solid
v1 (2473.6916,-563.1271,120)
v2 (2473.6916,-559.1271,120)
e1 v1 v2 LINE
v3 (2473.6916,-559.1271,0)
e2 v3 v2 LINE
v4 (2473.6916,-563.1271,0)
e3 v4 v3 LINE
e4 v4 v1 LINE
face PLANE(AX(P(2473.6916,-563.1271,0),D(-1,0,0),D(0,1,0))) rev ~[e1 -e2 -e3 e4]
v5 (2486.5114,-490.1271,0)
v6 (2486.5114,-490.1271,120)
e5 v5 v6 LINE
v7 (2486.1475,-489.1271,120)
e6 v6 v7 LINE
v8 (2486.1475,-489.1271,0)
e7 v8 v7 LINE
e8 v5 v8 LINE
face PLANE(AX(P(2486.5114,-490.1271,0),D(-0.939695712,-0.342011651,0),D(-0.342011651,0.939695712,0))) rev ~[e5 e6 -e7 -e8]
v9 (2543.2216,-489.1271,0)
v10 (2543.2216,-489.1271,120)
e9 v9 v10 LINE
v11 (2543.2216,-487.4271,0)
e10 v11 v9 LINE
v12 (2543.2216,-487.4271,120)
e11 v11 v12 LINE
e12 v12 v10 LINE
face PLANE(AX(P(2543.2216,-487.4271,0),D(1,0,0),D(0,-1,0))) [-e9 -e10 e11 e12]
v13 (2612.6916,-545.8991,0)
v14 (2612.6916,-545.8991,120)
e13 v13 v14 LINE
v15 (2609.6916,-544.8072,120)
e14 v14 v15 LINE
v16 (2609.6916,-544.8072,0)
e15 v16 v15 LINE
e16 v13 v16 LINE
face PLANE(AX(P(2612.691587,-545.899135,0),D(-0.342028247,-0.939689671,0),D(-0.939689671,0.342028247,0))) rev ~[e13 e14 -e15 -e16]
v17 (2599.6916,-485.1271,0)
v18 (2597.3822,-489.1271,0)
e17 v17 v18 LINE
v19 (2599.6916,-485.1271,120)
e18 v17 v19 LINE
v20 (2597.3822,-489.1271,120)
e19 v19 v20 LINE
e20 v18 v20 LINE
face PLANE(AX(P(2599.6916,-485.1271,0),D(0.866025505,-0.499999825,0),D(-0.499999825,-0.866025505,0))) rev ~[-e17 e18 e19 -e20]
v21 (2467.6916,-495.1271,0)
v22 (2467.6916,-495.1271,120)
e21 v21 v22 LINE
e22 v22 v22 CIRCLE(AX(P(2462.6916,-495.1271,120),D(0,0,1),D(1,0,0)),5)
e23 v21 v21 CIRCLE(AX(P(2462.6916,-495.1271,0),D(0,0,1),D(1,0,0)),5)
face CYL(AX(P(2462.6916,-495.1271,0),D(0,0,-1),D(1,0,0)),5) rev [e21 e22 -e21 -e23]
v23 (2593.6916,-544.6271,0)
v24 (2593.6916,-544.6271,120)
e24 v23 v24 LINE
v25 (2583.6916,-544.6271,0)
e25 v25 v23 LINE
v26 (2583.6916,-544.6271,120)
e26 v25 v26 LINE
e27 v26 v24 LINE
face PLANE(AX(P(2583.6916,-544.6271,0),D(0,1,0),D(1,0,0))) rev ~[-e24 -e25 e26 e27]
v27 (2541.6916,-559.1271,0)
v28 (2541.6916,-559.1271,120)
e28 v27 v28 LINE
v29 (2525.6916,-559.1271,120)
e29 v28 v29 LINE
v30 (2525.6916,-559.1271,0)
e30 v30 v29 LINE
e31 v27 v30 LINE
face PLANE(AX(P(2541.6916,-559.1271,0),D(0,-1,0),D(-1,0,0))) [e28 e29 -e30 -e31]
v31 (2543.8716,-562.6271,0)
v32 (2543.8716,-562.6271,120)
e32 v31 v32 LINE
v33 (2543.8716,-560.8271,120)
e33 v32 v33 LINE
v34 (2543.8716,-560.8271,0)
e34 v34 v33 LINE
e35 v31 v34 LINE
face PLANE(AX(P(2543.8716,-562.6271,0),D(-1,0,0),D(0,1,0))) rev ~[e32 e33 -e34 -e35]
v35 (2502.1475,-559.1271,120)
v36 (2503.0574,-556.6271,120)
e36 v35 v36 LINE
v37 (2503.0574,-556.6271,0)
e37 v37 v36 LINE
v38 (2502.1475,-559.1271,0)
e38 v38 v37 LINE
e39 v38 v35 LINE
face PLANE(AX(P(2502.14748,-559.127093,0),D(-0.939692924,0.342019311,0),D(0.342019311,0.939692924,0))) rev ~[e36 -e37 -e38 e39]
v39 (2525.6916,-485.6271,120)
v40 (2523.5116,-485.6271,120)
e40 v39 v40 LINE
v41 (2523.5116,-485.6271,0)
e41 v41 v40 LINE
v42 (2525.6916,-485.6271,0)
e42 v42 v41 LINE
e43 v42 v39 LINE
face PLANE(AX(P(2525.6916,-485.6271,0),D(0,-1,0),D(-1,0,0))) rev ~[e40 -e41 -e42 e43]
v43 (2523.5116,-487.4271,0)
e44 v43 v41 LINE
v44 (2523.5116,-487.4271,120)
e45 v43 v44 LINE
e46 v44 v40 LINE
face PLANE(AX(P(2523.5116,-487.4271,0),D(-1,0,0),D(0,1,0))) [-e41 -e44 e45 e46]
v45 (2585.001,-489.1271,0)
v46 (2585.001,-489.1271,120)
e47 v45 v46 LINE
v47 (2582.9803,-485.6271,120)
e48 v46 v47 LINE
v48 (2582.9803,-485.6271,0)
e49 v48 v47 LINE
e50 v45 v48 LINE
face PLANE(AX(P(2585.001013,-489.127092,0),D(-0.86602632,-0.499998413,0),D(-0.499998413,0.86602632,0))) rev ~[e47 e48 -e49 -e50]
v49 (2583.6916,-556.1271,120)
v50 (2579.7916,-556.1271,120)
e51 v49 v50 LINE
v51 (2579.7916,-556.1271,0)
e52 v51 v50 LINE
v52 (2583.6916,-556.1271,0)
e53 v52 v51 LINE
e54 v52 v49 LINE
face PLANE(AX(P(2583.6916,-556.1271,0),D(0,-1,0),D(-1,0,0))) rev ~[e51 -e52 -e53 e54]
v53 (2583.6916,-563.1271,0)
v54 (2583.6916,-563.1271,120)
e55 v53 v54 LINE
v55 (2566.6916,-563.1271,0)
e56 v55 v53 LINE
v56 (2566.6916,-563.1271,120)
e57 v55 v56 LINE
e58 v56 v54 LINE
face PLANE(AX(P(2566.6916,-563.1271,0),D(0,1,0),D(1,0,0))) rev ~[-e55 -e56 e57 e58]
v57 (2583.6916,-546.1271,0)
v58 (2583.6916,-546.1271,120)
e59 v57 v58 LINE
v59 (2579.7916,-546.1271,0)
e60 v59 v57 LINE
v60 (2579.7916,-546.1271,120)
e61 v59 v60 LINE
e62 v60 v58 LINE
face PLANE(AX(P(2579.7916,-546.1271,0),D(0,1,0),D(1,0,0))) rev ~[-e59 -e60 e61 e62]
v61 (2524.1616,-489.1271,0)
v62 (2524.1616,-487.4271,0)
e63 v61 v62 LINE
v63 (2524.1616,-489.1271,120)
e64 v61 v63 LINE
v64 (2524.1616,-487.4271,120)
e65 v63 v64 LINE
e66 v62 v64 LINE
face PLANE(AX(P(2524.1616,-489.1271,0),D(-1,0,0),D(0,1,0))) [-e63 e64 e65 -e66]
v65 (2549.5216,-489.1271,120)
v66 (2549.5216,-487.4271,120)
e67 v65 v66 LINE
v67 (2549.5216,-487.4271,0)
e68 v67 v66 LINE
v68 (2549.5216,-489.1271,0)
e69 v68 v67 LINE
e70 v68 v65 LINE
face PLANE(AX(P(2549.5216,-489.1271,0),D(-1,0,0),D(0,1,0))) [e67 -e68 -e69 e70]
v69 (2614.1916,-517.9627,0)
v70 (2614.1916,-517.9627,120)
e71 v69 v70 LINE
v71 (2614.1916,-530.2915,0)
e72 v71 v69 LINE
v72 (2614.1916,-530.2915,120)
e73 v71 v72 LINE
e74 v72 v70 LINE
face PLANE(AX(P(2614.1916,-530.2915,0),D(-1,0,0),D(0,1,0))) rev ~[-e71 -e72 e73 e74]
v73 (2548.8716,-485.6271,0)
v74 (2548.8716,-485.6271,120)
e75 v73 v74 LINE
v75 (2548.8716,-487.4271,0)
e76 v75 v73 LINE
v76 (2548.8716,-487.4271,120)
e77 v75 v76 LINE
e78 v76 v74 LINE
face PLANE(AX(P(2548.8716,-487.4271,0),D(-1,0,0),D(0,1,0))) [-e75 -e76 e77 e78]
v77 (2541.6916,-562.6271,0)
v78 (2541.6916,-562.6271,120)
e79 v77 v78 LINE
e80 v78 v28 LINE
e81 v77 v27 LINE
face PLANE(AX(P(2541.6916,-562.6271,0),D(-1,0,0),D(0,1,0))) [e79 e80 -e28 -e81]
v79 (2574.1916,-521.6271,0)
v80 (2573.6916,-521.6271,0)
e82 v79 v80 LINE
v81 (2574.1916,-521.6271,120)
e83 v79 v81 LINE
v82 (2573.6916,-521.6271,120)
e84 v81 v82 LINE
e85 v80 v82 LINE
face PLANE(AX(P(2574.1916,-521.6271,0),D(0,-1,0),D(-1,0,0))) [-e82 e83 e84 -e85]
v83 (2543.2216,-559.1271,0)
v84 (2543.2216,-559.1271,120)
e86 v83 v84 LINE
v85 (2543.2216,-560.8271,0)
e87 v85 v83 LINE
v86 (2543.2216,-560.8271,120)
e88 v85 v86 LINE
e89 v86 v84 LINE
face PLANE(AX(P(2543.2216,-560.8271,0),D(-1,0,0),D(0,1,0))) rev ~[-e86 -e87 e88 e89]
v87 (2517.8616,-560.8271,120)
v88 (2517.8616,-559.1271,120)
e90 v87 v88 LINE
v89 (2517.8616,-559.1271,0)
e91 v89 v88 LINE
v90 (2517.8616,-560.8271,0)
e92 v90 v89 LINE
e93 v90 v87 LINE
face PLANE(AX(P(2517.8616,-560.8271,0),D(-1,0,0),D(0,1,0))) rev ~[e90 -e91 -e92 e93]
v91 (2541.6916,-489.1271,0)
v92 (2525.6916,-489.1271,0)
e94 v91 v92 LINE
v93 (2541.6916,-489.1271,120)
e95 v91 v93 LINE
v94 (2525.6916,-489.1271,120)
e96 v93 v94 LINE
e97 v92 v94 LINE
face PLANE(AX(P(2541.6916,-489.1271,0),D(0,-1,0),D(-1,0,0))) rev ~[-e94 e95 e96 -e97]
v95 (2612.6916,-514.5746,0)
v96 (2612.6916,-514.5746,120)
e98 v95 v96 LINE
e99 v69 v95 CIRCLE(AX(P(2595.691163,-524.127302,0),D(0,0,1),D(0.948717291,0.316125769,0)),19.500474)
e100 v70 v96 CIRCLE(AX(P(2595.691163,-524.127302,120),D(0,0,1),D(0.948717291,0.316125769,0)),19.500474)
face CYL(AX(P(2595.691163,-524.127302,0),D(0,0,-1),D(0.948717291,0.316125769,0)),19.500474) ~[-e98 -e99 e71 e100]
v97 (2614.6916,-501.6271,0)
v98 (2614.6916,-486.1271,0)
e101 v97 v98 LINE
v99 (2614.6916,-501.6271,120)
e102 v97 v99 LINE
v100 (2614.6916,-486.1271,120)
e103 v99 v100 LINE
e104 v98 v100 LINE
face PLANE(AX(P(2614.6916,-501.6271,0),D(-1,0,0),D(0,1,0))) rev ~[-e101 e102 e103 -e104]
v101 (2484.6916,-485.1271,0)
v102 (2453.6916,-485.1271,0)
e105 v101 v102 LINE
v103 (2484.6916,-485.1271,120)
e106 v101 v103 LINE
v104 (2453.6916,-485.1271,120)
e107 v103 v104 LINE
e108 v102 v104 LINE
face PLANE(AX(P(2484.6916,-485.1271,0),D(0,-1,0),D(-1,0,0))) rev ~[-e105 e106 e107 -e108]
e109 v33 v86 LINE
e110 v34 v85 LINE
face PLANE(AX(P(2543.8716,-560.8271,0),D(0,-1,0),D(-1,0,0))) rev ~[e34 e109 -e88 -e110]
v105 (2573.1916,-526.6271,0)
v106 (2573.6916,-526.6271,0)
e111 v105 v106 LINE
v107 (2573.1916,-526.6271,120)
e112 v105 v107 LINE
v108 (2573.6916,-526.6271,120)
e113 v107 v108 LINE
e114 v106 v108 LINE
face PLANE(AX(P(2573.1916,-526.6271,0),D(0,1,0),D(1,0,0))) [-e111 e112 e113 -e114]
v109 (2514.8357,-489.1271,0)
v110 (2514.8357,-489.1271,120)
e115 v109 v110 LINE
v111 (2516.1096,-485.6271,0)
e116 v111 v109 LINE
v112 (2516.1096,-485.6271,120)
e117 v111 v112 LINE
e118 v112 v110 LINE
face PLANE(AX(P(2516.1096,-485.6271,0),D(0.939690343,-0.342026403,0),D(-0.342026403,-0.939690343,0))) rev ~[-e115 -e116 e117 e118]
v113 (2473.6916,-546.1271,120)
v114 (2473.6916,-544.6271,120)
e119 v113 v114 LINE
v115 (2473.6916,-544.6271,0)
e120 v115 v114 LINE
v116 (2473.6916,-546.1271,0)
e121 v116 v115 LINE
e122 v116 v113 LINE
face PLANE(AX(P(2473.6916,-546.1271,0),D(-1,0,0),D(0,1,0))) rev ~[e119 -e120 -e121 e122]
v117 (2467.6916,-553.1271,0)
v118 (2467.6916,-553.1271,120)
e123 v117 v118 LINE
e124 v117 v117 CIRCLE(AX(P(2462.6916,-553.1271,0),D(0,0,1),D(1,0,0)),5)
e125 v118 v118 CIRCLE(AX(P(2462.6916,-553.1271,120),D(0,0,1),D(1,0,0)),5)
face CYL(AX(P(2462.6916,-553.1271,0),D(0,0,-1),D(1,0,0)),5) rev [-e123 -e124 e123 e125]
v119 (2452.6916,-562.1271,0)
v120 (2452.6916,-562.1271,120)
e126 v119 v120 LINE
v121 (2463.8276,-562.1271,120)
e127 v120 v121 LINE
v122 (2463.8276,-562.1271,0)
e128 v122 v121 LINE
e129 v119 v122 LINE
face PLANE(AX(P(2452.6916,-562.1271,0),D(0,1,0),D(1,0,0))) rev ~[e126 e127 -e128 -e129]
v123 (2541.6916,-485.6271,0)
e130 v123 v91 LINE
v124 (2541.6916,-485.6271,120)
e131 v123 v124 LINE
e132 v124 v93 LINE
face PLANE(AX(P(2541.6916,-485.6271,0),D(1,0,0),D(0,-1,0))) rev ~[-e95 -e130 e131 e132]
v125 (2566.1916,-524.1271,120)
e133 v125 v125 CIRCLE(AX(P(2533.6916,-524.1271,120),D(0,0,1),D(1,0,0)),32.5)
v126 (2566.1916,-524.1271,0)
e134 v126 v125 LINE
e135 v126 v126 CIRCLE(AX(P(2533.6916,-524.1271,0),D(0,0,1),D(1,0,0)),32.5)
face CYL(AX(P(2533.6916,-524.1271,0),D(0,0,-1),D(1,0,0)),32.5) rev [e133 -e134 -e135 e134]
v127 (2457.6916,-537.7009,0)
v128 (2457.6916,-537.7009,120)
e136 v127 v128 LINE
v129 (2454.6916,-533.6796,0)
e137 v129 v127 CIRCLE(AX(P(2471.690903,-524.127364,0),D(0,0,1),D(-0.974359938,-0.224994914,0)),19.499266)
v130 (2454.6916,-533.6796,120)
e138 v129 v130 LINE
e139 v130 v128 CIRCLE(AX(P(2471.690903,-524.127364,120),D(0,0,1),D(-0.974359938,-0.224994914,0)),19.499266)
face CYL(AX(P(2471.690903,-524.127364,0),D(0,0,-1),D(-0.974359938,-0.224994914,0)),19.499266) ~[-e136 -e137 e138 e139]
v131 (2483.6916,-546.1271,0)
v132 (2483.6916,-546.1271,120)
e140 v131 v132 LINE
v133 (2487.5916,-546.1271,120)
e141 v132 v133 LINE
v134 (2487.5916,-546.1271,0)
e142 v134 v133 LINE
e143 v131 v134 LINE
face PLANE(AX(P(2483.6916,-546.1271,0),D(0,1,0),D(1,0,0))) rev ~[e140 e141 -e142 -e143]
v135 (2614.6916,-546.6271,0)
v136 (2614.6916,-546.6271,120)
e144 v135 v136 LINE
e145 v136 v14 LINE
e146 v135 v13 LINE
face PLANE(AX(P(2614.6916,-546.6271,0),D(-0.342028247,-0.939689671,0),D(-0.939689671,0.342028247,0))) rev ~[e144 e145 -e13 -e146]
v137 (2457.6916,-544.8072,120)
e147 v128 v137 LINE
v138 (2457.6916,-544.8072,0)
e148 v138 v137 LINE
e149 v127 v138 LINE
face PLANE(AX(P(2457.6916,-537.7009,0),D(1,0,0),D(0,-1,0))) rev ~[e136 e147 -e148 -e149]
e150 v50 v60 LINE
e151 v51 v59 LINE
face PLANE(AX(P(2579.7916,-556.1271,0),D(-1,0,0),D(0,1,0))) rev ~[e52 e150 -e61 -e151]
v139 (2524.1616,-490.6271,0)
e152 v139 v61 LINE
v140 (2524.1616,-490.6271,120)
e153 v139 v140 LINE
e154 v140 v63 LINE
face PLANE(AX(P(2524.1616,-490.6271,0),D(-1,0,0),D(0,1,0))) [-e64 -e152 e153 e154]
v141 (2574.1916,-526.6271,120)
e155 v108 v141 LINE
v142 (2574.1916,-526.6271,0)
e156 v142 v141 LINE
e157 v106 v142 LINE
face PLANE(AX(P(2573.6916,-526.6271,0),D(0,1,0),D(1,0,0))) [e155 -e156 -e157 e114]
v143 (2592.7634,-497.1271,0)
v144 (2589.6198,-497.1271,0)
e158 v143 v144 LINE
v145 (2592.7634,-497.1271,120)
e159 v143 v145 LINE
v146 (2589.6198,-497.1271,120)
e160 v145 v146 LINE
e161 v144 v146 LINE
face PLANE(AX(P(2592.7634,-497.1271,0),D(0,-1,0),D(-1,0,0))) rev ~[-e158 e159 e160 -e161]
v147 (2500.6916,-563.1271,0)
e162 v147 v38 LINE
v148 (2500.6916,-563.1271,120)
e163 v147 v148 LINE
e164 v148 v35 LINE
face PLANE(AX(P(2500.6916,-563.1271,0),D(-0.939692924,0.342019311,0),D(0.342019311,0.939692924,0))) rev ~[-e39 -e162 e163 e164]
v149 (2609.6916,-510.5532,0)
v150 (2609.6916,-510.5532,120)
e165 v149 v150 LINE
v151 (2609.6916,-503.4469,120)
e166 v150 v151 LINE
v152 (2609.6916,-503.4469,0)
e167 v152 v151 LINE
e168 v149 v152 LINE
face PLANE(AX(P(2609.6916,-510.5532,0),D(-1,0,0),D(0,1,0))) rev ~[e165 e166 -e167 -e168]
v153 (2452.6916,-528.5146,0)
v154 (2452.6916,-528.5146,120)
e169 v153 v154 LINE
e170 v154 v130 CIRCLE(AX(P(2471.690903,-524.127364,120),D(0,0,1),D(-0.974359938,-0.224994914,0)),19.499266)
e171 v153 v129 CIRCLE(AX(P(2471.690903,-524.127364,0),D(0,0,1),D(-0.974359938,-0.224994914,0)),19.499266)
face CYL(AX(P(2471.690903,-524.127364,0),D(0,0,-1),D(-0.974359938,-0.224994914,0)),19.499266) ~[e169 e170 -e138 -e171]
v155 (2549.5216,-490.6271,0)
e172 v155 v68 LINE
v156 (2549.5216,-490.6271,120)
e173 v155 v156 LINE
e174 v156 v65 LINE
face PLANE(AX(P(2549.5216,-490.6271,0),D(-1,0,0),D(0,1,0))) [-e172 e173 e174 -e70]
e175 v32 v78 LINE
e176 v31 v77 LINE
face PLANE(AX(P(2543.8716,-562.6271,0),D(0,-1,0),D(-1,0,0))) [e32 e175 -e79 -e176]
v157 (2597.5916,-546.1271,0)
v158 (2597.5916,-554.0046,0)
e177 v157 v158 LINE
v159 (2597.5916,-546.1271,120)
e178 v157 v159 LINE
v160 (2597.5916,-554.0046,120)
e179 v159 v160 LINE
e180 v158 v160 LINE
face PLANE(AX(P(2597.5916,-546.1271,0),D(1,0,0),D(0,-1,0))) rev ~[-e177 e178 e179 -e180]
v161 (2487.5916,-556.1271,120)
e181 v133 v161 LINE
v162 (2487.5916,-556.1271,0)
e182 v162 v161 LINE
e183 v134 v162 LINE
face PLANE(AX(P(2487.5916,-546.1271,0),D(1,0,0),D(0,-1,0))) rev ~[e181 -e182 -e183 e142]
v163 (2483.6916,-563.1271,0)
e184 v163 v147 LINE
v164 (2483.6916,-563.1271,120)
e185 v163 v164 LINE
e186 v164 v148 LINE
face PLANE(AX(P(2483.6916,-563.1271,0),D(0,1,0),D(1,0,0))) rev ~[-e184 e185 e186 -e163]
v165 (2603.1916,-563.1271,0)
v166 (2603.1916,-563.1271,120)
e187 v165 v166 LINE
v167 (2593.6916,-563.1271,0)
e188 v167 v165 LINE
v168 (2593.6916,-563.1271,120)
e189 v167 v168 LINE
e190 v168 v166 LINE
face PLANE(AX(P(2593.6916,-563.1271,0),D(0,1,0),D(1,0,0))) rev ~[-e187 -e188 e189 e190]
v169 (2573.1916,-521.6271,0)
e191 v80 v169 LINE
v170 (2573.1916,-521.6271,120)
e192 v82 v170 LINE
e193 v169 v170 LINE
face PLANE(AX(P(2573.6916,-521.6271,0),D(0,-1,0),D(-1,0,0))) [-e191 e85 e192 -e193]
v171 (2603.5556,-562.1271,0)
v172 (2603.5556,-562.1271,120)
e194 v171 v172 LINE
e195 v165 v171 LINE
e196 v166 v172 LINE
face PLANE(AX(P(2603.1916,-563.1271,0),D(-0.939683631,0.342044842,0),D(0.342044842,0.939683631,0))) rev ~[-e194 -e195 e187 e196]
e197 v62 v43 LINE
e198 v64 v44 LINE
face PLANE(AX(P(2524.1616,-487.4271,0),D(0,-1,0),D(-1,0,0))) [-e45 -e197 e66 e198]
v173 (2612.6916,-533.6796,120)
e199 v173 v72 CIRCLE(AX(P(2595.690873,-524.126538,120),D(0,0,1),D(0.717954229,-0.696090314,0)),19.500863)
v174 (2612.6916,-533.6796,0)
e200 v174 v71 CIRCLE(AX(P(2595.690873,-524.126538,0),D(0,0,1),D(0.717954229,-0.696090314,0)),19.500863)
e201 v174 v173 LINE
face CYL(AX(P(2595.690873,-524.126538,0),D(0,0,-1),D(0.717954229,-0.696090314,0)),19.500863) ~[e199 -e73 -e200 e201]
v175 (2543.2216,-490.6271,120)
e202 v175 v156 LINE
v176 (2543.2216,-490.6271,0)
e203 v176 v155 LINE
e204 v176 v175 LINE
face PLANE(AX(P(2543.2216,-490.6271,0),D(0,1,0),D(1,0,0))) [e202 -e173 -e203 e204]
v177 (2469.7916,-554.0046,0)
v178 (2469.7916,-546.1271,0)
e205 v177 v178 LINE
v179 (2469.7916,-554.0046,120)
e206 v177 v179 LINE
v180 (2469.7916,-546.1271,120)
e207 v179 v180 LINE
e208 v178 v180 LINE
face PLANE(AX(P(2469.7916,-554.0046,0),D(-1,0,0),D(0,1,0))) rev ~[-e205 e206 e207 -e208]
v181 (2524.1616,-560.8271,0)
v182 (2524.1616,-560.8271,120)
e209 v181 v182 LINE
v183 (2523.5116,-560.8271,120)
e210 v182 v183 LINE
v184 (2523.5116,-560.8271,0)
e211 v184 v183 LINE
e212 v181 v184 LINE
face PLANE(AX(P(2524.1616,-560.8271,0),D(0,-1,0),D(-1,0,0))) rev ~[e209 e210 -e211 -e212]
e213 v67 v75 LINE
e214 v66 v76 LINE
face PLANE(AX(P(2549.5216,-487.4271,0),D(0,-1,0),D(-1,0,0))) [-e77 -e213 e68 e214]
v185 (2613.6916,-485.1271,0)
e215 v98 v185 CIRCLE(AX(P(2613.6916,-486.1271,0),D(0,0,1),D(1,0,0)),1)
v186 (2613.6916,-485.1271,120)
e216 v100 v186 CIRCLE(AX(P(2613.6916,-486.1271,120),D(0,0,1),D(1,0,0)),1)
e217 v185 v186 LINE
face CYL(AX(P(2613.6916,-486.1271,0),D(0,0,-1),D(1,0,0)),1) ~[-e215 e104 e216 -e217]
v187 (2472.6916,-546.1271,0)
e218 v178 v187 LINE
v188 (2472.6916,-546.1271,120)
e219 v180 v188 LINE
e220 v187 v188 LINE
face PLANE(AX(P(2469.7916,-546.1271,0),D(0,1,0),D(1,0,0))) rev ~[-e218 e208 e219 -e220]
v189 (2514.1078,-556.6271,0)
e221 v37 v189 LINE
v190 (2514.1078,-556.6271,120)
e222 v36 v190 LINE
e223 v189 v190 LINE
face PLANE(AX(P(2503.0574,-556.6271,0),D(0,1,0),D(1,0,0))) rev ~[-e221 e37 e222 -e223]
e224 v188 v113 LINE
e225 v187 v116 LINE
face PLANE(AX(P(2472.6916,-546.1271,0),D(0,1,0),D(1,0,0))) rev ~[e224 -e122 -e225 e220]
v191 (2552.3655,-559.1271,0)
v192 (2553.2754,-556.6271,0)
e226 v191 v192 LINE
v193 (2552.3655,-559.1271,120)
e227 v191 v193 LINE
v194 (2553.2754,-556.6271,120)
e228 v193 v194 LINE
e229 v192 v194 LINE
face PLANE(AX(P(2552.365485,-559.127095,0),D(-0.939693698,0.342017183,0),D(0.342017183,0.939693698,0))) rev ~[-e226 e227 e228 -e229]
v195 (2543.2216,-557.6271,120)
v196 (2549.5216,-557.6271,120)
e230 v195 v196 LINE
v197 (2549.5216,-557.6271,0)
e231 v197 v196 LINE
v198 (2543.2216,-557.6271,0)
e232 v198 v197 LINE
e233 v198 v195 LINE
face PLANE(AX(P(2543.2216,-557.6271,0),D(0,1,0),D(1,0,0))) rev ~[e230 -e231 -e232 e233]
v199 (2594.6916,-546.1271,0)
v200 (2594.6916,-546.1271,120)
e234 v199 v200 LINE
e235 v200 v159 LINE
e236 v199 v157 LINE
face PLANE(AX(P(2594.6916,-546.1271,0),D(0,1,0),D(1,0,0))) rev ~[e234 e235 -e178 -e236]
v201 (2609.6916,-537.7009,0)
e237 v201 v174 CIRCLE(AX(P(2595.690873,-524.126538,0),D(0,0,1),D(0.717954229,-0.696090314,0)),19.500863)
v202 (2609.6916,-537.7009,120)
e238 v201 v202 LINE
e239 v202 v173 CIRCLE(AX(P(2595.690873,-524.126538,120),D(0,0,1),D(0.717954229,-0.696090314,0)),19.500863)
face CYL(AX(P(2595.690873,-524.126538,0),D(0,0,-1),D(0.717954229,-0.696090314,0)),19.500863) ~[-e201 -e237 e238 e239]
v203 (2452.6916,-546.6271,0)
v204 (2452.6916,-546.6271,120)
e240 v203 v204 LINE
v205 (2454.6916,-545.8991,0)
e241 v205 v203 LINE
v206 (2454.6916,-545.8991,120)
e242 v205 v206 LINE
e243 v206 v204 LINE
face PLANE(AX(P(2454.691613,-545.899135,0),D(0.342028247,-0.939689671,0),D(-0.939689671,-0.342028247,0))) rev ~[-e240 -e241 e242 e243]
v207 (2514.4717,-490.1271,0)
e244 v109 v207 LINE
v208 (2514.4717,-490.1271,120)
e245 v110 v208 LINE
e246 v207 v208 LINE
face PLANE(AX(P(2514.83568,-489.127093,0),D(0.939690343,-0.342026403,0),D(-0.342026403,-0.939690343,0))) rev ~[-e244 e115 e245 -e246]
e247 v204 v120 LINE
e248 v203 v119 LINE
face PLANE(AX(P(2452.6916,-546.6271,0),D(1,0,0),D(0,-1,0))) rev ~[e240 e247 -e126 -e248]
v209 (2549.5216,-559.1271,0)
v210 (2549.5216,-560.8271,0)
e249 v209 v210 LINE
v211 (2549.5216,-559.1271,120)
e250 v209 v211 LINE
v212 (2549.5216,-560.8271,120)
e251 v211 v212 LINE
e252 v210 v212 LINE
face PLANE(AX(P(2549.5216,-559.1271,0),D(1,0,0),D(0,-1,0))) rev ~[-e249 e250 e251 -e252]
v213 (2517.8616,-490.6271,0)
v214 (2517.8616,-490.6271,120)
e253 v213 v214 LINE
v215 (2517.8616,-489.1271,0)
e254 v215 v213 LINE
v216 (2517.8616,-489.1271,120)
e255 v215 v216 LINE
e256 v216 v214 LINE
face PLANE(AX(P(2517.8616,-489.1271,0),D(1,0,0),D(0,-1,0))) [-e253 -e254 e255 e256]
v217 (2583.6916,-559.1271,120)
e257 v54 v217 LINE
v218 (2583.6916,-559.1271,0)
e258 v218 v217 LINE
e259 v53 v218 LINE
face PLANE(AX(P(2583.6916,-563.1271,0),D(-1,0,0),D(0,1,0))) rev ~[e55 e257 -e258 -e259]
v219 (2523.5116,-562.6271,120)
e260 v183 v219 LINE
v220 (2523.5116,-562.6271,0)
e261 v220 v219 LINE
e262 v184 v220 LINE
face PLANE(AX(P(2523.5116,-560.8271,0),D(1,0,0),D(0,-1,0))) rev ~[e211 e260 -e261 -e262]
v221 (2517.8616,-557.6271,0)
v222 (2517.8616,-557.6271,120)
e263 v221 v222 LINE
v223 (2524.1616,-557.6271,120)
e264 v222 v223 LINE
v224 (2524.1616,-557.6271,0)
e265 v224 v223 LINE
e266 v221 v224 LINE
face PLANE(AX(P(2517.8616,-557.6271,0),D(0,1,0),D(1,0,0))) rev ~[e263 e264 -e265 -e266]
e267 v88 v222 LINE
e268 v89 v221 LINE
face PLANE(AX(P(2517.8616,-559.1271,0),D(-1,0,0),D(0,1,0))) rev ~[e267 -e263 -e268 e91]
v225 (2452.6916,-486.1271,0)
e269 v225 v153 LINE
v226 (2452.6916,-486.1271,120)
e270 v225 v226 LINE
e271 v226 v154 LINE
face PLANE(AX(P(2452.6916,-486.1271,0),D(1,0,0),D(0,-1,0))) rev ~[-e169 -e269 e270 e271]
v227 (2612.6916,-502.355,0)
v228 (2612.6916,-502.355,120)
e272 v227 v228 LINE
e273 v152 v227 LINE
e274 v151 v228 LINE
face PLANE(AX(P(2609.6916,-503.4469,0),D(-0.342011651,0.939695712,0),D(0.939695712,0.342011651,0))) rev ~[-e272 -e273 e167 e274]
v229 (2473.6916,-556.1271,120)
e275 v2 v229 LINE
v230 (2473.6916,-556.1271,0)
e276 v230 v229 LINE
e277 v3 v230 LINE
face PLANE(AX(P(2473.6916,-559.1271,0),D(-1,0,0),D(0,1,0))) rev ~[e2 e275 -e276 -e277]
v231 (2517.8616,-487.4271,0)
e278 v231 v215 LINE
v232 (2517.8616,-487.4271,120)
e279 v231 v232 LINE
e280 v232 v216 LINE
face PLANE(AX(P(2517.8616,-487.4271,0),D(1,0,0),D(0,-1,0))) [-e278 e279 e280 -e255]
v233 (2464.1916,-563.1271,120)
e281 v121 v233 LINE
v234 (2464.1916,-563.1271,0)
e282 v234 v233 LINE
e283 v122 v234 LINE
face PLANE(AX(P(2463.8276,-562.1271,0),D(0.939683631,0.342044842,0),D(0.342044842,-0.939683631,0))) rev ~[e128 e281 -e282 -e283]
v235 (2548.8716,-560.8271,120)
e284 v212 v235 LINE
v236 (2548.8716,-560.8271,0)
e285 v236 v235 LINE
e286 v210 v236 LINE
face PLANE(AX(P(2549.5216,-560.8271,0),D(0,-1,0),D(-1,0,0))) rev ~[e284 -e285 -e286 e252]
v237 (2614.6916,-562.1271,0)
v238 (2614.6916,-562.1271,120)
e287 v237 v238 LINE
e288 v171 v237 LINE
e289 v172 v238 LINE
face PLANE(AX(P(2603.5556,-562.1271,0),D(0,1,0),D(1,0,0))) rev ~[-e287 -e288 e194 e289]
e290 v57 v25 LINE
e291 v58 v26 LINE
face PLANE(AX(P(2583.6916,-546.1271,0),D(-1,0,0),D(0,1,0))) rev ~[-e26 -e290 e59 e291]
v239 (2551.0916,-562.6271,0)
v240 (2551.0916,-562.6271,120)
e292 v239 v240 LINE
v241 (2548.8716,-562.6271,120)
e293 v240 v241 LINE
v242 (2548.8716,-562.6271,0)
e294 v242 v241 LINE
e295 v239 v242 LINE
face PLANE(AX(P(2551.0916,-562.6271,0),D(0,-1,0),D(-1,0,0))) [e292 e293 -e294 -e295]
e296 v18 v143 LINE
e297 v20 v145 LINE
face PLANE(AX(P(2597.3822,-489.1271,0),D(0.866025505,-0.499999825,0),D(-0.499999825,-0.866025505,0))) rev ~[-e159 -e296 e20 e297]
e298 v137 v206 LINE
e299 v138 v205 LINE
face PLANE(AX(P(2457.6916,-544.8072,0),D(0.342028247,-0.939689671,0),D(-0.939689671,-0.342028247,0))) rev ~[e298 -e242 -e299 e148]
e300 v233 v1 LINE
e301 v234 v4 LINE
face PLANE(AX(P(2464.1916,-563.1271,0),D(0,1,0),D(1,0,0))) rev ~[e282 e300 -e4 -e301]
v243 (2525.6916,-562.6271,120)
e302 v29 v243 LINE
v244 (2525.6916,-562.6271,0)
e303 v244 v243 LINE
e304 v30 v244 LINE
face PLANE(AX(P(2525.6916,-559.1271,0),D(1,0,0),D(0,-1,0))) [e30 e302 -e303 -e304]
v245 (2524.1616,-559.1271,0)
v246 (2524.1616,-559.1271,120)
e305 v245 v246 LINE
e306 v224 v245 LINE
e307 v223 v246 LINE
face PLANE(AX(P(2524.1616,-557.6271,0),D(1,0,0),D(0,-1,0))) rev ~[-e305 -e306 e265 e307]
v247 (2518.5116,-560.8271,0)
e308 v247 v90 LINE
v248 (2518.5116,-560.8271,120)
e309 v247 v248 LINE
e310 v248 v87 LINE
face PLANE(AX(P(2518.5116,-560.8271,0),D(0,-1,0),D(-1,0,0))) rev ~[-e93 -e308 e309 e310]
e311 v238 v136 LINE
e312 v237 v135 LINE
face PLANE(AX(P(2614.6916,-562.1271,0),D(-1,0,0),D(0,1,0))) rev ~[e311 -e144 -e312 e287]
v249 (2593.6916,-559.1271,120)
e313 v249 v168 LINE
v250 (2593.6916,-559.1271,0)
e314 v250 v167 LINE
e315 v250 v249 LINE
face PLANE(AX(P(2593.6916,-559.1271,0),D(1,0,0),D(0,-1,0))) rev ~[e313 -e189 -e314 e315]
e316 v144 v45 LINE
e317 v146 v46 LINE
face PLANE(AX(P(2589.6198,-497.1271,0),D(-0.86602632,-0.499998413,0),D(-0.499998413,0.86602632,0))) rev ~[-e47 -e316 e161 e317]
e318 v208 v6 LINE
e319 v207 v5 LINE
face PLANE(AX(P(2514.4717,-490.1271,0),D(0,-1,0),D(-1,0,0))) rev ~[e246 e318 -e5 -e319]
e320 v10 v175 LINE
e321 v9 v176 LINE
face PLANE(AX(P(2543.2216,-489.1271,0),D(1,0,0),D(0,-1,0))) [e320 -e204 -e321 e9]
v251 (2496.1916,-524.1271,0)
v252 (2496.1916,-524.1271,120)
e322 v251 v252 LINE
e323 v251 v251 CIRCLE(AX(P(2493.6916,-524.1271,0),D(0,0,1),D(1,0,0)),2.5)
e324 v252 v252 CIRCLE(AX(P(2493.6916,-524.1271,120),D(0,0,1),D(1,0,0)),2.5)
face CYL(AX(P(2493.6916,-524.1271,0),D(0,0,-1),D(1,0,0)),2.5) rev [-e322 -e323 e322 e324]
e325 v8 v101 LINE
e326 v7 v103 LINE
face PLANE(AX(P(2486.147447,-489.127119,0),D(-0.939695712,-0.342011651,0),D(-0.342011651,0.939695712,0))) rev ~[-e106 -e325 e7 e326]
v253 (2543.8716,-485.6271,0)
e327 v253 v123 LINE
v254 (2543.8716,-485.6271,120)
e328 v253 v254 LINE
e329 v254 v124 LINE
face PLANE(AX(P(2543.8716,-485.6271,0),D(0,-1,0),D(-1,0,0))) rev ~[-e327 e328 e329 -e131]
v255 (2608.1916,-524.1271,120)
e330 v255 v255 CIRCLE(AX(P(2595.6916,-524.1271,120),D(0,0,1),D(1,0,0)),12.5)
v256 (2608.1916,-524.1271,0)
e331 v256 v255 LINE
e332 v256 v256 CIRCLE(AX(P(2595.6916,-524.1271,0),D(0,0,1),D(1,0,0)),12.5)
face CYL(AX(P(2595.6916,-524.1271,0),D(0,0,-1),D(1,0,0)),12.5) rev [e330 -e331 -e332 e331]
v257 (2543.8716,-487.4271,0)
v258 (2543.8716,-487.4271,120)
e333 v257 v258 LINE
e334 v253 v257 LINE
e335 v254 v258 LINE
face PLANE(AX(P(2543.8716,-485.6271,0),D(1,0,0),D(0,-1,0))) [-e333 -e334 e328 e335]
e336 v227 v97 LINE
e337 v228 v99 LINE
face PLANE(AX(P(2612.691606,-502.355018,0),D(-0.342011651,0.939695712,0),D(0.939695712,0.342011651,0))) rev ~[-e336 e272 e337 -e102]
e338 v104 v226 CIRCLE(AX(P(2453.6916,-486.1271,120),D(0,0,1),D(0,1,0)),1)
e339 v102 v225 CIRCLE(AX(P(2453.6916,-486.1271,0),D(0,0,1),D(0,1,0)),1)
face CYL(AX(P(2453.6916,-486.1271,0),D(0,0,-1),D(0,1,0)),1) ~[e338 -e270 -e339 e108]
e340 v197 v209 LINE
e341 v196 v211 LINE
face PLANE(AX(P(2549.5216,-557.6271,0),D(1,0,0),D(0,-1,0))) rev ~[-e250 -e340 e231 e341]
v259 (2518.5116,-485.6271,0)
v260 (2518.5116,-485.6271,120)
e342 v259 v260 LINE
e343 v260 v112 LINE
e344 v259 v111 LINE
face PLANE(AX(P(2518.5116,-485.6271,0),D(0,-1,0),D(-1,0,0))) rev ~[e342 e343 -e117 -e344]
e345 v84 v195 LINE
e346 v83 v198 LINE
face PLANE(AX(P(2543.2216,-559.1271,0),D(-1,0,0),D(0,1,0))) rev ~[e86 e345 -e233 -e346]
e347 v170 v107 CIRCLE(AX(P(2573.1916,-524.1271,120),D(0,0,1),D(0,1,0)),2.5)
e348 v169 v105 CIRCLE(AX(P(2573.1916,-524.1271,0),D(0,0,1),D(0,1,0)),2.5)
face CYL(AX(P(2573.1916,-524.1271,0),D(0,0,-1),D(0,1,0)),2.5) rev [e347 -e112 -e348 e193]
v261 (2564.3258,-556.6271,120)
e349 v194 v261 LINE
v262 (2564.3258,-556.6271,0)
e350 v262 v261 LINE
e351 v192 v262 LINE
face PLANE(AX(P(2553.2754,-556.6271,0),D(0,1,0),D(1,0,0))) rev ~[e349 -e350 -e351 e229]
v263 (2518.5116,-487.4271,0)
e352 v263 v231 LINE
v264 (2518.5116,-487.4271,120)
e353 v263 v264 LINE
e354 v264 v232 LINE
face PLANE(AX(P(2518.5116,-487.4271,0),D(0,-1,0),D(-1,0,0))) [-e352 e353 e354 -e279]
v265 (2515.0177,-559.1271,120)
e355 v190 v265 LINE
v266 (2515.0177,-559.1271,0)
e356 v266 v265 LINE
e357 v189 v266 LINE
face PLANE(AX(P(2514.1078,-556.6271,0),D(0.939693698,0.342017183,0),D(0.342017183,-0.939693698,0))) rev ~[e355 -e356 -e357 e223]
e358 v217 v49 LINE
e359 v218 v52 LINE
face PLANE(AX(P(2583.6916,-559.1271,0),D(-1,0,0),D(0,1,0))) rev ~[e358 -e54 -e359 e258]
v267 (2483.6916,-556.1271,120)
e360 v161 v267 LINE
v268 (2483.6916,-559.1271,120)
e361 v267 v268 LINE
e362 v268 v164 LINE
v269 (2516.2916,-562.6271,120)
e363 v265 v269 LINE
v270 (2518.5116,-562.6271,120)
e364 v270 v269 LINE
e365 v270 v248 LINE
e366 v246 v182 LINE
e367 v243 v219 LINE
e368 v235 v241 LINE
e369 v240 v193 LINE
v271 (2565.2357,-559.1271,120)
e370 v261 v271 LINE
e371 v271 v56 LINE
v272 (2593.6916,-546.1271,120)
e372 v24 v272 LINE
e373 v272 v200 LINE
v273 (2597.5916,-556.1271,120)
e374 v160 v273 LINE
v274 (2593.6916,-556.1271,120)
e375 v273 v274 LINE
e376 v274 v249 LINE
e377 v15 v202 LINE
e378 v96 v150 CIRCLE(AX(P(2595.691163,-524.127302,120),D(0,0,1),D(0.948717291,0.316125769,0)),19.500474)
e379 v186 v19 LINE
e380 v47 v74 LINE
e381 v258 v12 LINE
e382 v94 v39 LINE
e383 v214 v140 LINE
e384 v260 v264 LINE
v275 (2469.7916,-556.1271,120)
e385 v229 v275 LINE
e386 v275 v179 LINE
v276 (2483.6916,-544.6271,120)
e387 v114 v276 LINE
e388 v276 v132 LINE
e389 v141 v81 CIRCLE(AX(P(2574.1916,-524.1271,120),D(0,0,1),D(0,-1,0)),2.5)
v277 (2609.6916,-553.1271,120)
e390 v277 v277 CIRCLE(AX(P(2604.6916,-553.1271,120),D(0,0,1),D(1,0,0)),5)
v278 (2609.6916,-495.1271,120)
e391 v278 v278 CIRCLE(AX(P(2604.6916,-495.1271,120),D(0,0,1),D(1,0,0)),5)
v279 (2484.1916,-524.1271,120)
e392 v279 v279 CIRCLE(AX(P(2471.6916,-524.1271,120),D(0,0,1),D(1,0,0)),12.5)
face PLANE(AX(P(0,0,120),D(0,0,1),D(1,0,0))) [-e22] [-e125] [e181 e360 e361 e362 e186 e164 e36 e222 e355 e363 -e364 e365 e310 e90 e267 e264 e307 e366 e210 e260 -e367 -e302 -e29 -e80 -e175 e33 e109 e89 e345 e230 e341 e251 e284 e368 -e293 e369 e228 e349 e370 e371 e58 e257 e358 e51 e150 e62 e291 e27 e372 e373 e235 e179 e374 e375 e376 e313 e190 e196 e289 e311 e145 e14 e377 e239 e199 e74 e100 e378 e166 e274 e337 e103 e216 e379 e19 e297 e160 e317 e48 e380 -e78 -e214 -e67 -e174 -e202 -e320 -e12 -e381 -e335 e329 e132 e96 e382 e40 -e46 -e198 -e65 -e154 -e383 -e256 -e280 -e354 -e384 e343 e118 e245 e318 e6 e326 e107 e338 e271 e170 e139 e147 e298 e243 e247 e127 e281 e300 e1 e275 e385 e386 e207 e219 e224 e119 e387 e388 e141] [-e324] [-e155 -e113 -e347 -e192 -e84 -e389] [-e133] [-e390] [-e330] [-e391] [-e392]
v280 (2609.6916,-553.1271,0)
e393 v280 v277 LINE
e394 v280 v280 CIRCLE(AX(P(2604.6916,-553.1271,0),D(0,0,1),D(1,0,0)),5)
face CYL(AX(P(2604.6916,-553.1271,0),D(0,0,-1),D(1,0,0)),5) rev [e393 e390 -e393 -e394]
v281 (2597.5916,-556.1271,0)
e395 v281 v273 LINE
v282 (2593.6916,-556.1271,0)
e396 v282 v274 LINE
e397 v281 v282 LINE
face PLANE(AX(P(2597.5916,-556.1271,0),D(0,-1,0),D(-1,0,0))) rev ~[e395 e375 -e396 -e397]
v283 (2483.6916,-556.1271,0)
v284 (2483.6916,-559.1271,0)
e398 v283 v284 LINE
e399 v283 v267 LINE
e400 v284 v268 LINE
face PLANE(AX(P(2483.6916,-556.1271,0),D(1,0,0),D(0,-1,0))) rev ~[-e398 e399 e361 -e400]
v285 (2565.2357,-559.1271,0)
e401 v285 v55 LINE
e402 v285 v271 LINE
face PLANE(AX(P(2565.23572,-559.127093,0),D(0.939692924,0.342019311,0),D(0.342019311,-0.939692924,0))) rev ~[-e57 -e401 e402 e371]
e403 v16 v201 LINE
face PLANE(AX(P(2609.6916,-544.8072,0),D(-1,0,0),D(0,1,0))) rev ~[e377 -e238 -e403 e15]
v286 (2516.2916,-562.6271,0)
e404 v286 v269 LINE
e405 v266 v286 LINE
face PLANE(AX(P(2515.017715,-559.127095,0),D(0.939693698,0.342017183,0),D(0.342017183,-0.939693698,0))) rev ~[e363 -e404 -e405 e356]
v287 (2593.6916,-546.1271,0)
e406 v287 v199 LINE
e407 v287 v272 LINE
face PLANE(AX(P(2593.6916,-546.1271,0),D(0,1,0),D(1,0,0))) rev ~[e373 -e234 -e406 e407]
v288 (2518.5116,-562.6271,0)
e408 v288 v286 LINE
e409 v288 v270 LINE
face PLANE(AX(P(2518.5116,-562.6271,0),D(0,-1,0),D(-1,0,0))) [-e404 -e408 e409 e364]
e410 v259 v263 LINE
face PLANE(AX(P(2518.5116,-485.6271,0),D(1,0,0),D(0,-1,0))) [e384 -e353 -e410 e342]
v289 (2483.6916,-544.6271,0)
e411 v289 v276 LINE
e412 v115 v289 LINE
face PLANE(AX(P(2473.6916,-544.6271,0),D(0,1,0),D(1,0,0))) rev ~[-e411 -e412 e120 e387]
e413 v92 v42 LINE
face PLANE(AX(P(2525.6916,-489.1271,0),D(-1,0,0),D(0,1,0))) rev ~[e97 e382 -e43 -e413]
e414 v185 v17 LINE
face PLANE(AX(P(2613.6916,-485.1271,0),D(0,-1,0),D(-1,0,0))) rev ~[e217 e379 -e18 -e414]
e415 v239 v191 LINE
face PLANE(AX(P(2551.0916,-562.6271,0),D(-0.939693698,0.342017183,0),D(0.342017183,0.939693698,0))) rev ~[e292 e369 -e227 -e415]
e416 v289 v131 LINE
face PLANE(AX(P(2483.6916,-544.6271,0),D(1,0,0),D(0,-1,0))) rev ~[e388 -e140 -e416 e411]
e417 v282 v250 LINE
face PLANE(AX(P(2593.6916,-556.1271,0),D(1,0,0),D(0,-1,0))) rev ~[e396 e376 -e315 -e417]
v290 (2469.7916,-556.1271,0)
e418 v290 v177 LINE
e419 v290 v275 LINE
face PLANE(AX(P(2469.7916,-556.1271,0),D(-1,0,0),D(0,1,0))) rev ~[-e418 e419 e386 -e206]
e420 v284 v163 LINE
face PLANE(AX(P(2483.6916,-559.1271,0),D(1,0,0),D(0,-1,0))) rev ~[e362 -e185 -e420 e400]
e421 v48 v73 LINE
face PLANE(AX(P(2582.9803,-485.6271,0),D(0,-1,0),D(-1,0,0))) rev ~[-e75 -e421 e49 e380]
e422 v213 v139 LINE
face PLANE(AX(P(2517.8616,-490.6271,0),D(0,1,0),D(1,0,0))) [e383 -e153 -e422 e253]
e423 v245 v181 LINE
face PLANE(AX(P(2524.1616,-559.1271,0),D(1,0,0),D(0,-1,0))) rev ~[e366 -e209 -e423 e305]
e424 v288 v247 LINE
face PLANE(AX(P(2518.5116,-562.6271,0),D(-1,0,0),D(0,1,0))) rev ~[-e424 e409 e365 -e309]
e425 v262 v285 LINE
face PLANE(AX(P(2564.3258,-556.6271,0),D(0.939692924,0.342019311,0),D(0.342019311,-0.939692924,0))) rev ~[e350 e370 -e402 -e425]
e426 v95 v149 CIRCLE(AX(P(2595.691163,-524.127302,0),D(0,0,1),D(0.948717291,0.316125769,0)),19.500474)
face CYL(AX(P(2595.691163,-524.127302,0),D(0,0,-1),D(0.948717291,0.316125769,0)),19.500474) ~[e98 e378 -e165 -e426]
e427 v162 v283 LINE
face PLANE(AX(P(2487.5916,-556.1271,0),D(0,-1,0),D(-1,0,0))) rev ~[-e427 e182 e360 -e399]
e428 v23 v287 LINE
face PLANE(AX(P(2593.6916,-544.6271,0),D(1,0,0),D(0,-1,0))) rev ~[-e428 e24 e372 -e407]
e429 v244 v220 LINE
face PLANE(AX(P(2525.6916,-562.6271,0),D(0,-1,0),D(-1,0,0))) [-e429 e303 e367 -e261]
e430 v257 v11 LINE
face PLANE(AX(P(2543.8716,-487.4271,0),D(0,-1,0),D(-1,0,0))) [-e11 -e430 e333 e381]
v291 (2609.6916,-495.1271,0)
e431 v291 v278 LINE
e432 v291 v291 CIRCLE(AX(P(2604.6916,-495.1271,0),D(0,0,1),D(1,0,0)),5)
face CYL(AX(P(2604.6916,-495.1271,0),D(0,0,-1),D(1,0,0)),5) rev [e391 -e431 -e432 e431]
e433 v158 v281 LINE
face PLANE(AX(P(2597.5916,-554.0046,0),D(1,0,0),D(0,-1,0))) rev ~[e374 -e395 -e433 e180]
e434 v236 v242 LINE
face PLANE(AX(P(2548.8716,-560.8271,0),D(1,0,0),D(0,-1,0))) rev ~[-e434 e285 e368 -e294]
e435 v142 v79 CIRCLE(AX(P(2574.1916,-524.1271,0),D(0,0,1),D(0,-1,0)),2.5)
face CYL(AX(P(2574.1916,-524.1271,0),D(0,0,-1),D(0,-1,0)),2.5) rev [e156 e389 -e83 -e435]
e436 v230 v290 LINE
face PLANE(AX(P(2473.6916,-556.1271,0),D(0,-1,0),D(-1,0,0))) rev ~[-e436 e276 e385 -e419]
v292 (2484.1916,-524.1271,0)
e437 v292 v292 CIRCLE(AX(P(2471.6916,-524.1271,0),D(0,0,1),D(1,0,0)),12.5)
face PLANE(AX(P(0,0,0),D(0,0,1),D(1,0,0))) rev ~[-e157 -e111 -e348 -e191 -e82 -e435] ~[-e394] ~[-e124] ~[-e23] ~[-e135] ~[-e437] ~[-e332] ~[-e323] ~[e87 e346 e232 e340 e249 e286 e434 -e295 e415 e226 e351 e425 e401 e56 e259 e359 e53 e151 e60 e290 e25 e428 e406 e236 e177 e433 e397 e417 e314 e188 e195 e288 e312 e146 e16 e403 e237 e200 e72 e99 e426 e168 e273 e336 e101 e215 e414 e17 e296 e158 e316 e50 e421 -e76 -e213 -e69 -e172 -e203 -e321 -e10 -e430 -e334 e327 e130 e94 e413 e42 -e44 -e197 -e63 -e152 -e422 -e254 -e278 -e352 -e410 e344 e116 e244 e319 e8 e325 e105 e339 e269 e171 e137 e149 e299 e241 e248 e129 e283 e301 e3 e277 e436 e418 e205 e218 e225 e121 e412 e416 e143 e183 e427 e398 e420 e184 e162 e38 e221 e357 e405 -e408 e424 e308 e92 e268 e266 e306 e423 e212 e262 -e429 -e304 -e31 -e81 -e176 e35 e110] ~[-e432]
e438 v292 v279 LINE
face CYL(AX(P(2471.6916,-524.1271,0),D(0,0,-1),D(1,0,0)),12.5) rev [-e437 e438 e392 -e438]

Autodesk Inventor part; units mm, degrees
ref_plane "YZ Plane" through (0, 0, 0) normal (1, 0, 0) x (0, 1, 0)
ref_plane "XZ Plane" through (0, 0, 0) normal (0, 1, 0) x (-1, 0, 0)
ref_plane "XY Plane" through (0, 0, 0) normal (0, 0, 1) x (1, 0, 0)
sketch "Sketch1" plane through (0, 0, 0) normal (0, 0, 1) x (1, 0, 0)
  line L0 (2486.1475, -489.1271) -> (2514.8357, -489.1271)
  line L1 (2487.5916, -556.1271) -> (2483.6916, -556.1271)
  line L2 (2483.6916, -546.1271) -> (2487.5916, -546.1271)
  line L3 (2486.5114, -490.1271) -> (2484.6916, -485.1271)
  line L4 (2483.6916, -563.1271) -> (2500.6916, -563.1271)
  line L5 (2454.6916, -545.8991) -> (2454.6916, -533.6796)
  line L6 (2457.6916, -537.7009) -> (2457.6916, -544.8072)
  line L7 (2483.6916, -559.1271) -> (2473.6916, -559.1271)
  arc A0 (2469.7916, -554.0046) -> (2472.6916, -546.1271) centre (2468.6916, -549.1271) ccw
  line L8 (2473.6916, -544.6271) -> (2483.6916, -544.6271)
  line L9 (2469.7916, -546.1271) -> (2473.6916, -546.1271)
  line L10 (2469.7916, -556.1271) -> (2469.7916, -546.1271)
  line L11 (2473.6916, -556.1271) -> (2469.7916, -556.1271)
  line L12 (2473.6916, -563.1271) -> (2473.6916, -556.1271)
  line L13 (2483.6916, -556.1271) -> (2483.6916, -563.1271)
  line L14 (2483.6916, -544.6271) -> (2483.6916, -546.1271)
  line L15 (2457.6916, -544.8072) -> (2452.6916, -546.6271)
  line L16 (2473.6916, -546.1271) -> (2473.6916, -544.6271)
  line L17 (2463.8276, -562.1271) -> (2464.1916, -563.1271)
  line L18 (2452.6916, -562.1271) -> (2463.8276, -562.1271)
  line L19 (2452.6916, -546.6271) -> (2452.6916, -562.1271)
  line L20 (2464.1916, -563.1271) -> (2473.6916, -563.1271)
  circle A1 centre (2462.6916, -553.1271) radius 5
  circle A2 centre (2471.6916, -524.1271) radius 12.5
  circle A3 centre (2471.6916, -524.1271) radius 12
  arc A4 (2452.6916, -528.5146) -> (2457.6916, -537.7009) centre (2471.6916, -524.1271) ccw
  arc A5 (2453.6916, -485.1271) -> (2452.6916, -486.1271) centre (2453.6916, -486.1271) ccw
  line L21 (2452.6916, -486.1271) -> (2452.6916, -528.5146)
  line L22 (2484.6916, -485.1271) -> (2453.6916, -485.1271)
  circle A6 centre (2462.6916, -495.1271) radius 5
  line L23 (2612.6916, -533.6796) -> (2612.6916, -545.8991)
  line L24 (2609.6916, -544.8072) -> (2609.6916, -537.7009)
  circle A7 centre (2533.6916, -524.1271) radius 32.5
  line L25 (2593.6916, -559.1271) -> (2583.6916, -559.1271)
  line L26 (2583.6916, -544.6271) -> (2593.6916, -544.6271)
  line L27 (2541.6916, -559.1271) -> (2525.6916, -559.1271)
  line L28 (2515.0177, -559.1271) -> (2502.1475, -559.1271)
  line L29 (2524.1616, -559.1271) -> (2517.8616, -559.1271)
  line L30 (2518.5116, -562.6271) -> (2516.2916, -562.6271)
  line L31 (2523.5116, -560.8271) -> (2523.5116, -562.6271)
  line L32 (2518.5116, -562.6271) -> (2518.5116, -560.8271)
  line L33 (2525.6916, -559.1271) -> (2525.6916, -562.6271)
  line L34 (2525.6916, -562.6271) -> (2523.5116, -562.6271)
  line L35 (2487.5916, -546.1271) -> (2487.5916, -556.1271)
  line L36 (2524.1616, -560.8271) -> (2523.5116, -560.8271)
  line L37 (2524.1616, -557.6271) -> (2524.1616, -560.8271)
  line L38 (2517.8616, -557.6271) -> (2524.1616, -557.6271)
  line L39 (2517.8616, -560.8271) -> (2517.8616, -557.6271)
  line L40 (2518.5116, -560.8271) -> (2517.8616, -560.8271)
  line L41 (2514.1078, -556.6271) -> (2516.2916, -562.6271)
  line L42 (2503.0574, -556.6271) -> (2514.1078, -556.6271)
  line L43 (2500.6916, -563.1271) -> (2503.0574, -556.6271)
  line L44 (2549.5216, -559.1271) -> (2543.2216, -559.1271)
  line L45 (2565.2357, -559.1271) -> (2552.3655, -559.1271)
  line L46 (2541.6916, -562.6271) -> (2541.6916, -559.1271)
  line L47 (2551.0916, -562.6271) -> (2548.8716, -562.6271)
  line L48 (2548.8716, -560.8271) -> (2548.8716, -562.6271)
  line L49 (2549.5216, -560.8271) -> (2548.8716, -560.8271)
  line L50 (2549.5216, -557.6271) -> (2549.5216, -560.8271)
  line L51 (2543.2216, -557.6271) -> (2549.5216, -557.6271)
  line L52 (2543.2216, -560.8271) -> (2543.2216, -557.6271)
  line L53 (2543.8716, -562.6271) -> (2541.6916, -562.6271)
  line L54 (2579.7916, -556.1271) -> (2579.7916, -546.1271)
  line L55 (2583.6916, -556.1271) -> (2579.7916, -556.1271)
  line L56 (2543.8716, -562.6271) -> (2543.8716, -560.8271)
  line L57 (2543.8716, -560.8271) -> (2543.2216, -560.8271)
  line L58 (2553.2754, -556.6271) -> (2564.3258, -556.6271)
  line L59 (2579.7916, -546.1271) -> (2583.6916, -546.1271)
  line L60 (2583.6916, -563.1271) -> (2583.6916, -556.1271)
  line L61 (2583.6916, -546.1271) -> (2583.6916, -544.6271)
  line L62 (2551.0916, -562.6271) -> (2553.2754, -556.6271)
  line L63 (2564.3258, -556.6271) -> (2566.6916, -563.1271)
  line L64 (2566.6916, -563.1271) -> (2583.6916, -563.1271)
  arc A8 (2593.6916, -549.1271) -> (2597.5916, -554.0046) centre (2598.6916, -549.1271) ccw
  arc A9 (2594.6916, -546.1271) -> (2593.6916, -549.1271) centre (2598.6916, -549.1271) ccw
  line L65 (2593.6916, -556.1271) -> (2593.6916, -563.1271)
  line L66 (2597.5916, -556.1271) -> (2593.6916, -556.1271)
  line L67 (2597.5916, -546.1271) -> (2597.5916, -556.1271)
  line L68 (2593.6916, -546.1271) -> (2597.5916, -546.1271)
  line L69 (2603.5556, -562.1271) -> (2614.6916, -562.1271)
  line L70 (2614.6916, -546.6271) -> (2609.6916, -544.8072)
  line L71 (2603.1916, -563.1271) -> (2603.5556, -562.1271)
  line L72 (2593.6916, -544.6271) -> (2593.6916, -546.1271)
  line L73 (2593.6916, -563.1271) -> (2603.1916, -563.1271)
  line L74 (2614.6916, -562.1271) -> (2614.6916, -546.6271)
  circle A10 centre (2604.6916, -553.1271) radius 5
  line L75 (2585.001, -489.1271) -> (2597.3822, -489.1271)
  circle A11 centre (2595.6916, -524.1271) radius 12.5
  circle A12 centre (2595.6916, -524.1271) radius 12
  line L76 (2592.7634, -497.1271) -> (2589.6198, -497.1271)
  line L77 (2541.6916, -489.1271) -> (2525.6916, -489.1271)
  line L78 (2517.8616, -489.1271) -> (2524.1616, -489.1271)
  line L79 (2525.6916, -485.6271) -> (2523.5116, -485.6271)
  line L80 (2524.1616, -490.6271) -> (2524.1616, -487.4271)
  line L81 (2524.1616, -487.4271) -> (2523.5116, -487.4271)
  line L82 (2523.5116, -487.4271) -> (2523.5116, -485.6271)
  line L83 (2518.5116, -485.6271) -> (2516.1096, -485.6271)
  line L84 (2525.6916, -489.1271) -> (2525.6916, -485.6271)
  line L85 (2518.5116, -485.6271) -> (2518.5116, -487.4271)
  line L86 (2518.5116, -487.4271) -> (2517.8616, -487.4271)
  line L87 (2517.8616, -487.4271) -> (2517.8616, -490.6271)
  line L88 (2517.8616, -490.6271) -> (2524.1616, -490.6271)
  line L89 (2516.1096, -485.6271) -> (2514.4717, -490.1271)
  line L90 (2514.4717, -490.1271) -> (2486.5114, -490.1271)
  circle A13 centre (2493.6916, -524.1271) radius 2.5
  line L91 (2543.2216, -489.1271) -> (2549.5216, -489.1271)
  arc A14 (2573.6916, -521.6271) -> (2573.6916, -526.6271) centre (2573.6916, -524.1271) ccw
  arc A15 (2573.6916, -526.6271) -> (2573.6916, -521.6271) centre (2573.6916, -524.1271) ccw
  line L92 (2589.6198, -497.1271) -> (2582.9803, -485.6271)
  line L93 (2543.8716, -487.4271) -> (2543.2216, -487.4271)
  line L94 (2543.2216, -487.4271) -> (2543.2216, -490.6271)
  line L95 (2543.2216, -490.6271) -> (2549.5216, -490.6271)
  line L96 (2582.9803, -485.6271) -> (2548.8716, -485.6271)
  line L97 (2541.6916, -485.6271) -> (2541.6916, -489.1271)
  line L98 (2549.5216, -487.4271) -> (2548.8716, -487.4271)
  line L99 (2548.8716, -487.4271) -> (2548.8716, -485.6271)
  line L100 (2543.8716, -485.6271) -> (2543.8716, -487.4271)
  line L101 (2549.5216, -490.6271) -> (2549.5216, -487.4271)
  line L102 (2543.8716, -485.6271) -> (2541.6916, -485.6271)
  line L103 (2573.1916, -526.6271) -> (2574.1916, -526.6271)
  arc A16 (2573.1916, -521.6271) -> (2573.1916, -526.6271) centre (2573.1916, -524.1271) ccw
  line L104 (2574.1916, -521.6271) -> (2573.1916, -521.6271)
  arc A17 (2574.1916, -526.6271) -> (2574.1916, -521.6271) centre (2574.1916, -524.1271) ccw
  line L105 (2612.6916, -502.355) -> (2612.6916, -514.5746)
  line L106 (2599.6916, -485.1271) -> (2592.7634, -497.1271)
  line L107 (2609.6916, -503.4469) -> (2614.6916, -501.6271)
  line L108 (2609.6916, -510.5532) -> (2609.6916, -503.4469)
  arc A18 (2609.6916, -537.7009) -> (2614.1916, -530.2915) centre (2595.6916, -524.1271) ccw
  arc A19 (2614.1916, -517.9627) -> (2609.6916, -510.5532) centre (2595.6916, -524.1271) ccw
  line L109 (2614.1916, -530.2915) -> (2614.1916, -517.9627)
  line L110 (2613.6916, -485.1271) -> (2599.6916, -485.1271)
  arc A20 (2614.6916, -486.1271) -> (2613.6916, -485.1271) centre (2613.6916, -486.1271) ccw
  circle A21 centre (2604.6916, -495.1271) radius 5
  line L111 (2614.6916, -501.6271) -> (2614.6916, -486.1271)
  point P0 (0, 0)
  dimension "d2" = 124
extrude "Extrusion1" add sketch "Sketch1" along normal blind 120 contours L3 L90 L89 L83 L85 L86 L87 L88 L80 L81 L82 L79 L84 L77 L97 L102 L100 L93 L94 L95 L101 L98 L99 L96 L92 L76 L106 L110 A20 L111 L107 L108 A19 L109 A18 L24 L70 L74 L69 L71 L73 L65 L66 L67 L68 L72 L26 L61 L59 L54 L55 L60 L64 L63 L58 L62 L47 L48 L49 L50 L51 L52 L57 L56 L53 L46 L27 L33 L34 L31 L36 L37 L38 L39 L40 L32 L30 L41 L42 L43 L4 L13 L1 L35 L2 L14 L8 L16 L9 L10 L11 L12 L20 L17 L18 L19 L15 L6 A4 L21 A5 L22
properties part number "ADSK-MH-10029" material "Aluminum 6061"
